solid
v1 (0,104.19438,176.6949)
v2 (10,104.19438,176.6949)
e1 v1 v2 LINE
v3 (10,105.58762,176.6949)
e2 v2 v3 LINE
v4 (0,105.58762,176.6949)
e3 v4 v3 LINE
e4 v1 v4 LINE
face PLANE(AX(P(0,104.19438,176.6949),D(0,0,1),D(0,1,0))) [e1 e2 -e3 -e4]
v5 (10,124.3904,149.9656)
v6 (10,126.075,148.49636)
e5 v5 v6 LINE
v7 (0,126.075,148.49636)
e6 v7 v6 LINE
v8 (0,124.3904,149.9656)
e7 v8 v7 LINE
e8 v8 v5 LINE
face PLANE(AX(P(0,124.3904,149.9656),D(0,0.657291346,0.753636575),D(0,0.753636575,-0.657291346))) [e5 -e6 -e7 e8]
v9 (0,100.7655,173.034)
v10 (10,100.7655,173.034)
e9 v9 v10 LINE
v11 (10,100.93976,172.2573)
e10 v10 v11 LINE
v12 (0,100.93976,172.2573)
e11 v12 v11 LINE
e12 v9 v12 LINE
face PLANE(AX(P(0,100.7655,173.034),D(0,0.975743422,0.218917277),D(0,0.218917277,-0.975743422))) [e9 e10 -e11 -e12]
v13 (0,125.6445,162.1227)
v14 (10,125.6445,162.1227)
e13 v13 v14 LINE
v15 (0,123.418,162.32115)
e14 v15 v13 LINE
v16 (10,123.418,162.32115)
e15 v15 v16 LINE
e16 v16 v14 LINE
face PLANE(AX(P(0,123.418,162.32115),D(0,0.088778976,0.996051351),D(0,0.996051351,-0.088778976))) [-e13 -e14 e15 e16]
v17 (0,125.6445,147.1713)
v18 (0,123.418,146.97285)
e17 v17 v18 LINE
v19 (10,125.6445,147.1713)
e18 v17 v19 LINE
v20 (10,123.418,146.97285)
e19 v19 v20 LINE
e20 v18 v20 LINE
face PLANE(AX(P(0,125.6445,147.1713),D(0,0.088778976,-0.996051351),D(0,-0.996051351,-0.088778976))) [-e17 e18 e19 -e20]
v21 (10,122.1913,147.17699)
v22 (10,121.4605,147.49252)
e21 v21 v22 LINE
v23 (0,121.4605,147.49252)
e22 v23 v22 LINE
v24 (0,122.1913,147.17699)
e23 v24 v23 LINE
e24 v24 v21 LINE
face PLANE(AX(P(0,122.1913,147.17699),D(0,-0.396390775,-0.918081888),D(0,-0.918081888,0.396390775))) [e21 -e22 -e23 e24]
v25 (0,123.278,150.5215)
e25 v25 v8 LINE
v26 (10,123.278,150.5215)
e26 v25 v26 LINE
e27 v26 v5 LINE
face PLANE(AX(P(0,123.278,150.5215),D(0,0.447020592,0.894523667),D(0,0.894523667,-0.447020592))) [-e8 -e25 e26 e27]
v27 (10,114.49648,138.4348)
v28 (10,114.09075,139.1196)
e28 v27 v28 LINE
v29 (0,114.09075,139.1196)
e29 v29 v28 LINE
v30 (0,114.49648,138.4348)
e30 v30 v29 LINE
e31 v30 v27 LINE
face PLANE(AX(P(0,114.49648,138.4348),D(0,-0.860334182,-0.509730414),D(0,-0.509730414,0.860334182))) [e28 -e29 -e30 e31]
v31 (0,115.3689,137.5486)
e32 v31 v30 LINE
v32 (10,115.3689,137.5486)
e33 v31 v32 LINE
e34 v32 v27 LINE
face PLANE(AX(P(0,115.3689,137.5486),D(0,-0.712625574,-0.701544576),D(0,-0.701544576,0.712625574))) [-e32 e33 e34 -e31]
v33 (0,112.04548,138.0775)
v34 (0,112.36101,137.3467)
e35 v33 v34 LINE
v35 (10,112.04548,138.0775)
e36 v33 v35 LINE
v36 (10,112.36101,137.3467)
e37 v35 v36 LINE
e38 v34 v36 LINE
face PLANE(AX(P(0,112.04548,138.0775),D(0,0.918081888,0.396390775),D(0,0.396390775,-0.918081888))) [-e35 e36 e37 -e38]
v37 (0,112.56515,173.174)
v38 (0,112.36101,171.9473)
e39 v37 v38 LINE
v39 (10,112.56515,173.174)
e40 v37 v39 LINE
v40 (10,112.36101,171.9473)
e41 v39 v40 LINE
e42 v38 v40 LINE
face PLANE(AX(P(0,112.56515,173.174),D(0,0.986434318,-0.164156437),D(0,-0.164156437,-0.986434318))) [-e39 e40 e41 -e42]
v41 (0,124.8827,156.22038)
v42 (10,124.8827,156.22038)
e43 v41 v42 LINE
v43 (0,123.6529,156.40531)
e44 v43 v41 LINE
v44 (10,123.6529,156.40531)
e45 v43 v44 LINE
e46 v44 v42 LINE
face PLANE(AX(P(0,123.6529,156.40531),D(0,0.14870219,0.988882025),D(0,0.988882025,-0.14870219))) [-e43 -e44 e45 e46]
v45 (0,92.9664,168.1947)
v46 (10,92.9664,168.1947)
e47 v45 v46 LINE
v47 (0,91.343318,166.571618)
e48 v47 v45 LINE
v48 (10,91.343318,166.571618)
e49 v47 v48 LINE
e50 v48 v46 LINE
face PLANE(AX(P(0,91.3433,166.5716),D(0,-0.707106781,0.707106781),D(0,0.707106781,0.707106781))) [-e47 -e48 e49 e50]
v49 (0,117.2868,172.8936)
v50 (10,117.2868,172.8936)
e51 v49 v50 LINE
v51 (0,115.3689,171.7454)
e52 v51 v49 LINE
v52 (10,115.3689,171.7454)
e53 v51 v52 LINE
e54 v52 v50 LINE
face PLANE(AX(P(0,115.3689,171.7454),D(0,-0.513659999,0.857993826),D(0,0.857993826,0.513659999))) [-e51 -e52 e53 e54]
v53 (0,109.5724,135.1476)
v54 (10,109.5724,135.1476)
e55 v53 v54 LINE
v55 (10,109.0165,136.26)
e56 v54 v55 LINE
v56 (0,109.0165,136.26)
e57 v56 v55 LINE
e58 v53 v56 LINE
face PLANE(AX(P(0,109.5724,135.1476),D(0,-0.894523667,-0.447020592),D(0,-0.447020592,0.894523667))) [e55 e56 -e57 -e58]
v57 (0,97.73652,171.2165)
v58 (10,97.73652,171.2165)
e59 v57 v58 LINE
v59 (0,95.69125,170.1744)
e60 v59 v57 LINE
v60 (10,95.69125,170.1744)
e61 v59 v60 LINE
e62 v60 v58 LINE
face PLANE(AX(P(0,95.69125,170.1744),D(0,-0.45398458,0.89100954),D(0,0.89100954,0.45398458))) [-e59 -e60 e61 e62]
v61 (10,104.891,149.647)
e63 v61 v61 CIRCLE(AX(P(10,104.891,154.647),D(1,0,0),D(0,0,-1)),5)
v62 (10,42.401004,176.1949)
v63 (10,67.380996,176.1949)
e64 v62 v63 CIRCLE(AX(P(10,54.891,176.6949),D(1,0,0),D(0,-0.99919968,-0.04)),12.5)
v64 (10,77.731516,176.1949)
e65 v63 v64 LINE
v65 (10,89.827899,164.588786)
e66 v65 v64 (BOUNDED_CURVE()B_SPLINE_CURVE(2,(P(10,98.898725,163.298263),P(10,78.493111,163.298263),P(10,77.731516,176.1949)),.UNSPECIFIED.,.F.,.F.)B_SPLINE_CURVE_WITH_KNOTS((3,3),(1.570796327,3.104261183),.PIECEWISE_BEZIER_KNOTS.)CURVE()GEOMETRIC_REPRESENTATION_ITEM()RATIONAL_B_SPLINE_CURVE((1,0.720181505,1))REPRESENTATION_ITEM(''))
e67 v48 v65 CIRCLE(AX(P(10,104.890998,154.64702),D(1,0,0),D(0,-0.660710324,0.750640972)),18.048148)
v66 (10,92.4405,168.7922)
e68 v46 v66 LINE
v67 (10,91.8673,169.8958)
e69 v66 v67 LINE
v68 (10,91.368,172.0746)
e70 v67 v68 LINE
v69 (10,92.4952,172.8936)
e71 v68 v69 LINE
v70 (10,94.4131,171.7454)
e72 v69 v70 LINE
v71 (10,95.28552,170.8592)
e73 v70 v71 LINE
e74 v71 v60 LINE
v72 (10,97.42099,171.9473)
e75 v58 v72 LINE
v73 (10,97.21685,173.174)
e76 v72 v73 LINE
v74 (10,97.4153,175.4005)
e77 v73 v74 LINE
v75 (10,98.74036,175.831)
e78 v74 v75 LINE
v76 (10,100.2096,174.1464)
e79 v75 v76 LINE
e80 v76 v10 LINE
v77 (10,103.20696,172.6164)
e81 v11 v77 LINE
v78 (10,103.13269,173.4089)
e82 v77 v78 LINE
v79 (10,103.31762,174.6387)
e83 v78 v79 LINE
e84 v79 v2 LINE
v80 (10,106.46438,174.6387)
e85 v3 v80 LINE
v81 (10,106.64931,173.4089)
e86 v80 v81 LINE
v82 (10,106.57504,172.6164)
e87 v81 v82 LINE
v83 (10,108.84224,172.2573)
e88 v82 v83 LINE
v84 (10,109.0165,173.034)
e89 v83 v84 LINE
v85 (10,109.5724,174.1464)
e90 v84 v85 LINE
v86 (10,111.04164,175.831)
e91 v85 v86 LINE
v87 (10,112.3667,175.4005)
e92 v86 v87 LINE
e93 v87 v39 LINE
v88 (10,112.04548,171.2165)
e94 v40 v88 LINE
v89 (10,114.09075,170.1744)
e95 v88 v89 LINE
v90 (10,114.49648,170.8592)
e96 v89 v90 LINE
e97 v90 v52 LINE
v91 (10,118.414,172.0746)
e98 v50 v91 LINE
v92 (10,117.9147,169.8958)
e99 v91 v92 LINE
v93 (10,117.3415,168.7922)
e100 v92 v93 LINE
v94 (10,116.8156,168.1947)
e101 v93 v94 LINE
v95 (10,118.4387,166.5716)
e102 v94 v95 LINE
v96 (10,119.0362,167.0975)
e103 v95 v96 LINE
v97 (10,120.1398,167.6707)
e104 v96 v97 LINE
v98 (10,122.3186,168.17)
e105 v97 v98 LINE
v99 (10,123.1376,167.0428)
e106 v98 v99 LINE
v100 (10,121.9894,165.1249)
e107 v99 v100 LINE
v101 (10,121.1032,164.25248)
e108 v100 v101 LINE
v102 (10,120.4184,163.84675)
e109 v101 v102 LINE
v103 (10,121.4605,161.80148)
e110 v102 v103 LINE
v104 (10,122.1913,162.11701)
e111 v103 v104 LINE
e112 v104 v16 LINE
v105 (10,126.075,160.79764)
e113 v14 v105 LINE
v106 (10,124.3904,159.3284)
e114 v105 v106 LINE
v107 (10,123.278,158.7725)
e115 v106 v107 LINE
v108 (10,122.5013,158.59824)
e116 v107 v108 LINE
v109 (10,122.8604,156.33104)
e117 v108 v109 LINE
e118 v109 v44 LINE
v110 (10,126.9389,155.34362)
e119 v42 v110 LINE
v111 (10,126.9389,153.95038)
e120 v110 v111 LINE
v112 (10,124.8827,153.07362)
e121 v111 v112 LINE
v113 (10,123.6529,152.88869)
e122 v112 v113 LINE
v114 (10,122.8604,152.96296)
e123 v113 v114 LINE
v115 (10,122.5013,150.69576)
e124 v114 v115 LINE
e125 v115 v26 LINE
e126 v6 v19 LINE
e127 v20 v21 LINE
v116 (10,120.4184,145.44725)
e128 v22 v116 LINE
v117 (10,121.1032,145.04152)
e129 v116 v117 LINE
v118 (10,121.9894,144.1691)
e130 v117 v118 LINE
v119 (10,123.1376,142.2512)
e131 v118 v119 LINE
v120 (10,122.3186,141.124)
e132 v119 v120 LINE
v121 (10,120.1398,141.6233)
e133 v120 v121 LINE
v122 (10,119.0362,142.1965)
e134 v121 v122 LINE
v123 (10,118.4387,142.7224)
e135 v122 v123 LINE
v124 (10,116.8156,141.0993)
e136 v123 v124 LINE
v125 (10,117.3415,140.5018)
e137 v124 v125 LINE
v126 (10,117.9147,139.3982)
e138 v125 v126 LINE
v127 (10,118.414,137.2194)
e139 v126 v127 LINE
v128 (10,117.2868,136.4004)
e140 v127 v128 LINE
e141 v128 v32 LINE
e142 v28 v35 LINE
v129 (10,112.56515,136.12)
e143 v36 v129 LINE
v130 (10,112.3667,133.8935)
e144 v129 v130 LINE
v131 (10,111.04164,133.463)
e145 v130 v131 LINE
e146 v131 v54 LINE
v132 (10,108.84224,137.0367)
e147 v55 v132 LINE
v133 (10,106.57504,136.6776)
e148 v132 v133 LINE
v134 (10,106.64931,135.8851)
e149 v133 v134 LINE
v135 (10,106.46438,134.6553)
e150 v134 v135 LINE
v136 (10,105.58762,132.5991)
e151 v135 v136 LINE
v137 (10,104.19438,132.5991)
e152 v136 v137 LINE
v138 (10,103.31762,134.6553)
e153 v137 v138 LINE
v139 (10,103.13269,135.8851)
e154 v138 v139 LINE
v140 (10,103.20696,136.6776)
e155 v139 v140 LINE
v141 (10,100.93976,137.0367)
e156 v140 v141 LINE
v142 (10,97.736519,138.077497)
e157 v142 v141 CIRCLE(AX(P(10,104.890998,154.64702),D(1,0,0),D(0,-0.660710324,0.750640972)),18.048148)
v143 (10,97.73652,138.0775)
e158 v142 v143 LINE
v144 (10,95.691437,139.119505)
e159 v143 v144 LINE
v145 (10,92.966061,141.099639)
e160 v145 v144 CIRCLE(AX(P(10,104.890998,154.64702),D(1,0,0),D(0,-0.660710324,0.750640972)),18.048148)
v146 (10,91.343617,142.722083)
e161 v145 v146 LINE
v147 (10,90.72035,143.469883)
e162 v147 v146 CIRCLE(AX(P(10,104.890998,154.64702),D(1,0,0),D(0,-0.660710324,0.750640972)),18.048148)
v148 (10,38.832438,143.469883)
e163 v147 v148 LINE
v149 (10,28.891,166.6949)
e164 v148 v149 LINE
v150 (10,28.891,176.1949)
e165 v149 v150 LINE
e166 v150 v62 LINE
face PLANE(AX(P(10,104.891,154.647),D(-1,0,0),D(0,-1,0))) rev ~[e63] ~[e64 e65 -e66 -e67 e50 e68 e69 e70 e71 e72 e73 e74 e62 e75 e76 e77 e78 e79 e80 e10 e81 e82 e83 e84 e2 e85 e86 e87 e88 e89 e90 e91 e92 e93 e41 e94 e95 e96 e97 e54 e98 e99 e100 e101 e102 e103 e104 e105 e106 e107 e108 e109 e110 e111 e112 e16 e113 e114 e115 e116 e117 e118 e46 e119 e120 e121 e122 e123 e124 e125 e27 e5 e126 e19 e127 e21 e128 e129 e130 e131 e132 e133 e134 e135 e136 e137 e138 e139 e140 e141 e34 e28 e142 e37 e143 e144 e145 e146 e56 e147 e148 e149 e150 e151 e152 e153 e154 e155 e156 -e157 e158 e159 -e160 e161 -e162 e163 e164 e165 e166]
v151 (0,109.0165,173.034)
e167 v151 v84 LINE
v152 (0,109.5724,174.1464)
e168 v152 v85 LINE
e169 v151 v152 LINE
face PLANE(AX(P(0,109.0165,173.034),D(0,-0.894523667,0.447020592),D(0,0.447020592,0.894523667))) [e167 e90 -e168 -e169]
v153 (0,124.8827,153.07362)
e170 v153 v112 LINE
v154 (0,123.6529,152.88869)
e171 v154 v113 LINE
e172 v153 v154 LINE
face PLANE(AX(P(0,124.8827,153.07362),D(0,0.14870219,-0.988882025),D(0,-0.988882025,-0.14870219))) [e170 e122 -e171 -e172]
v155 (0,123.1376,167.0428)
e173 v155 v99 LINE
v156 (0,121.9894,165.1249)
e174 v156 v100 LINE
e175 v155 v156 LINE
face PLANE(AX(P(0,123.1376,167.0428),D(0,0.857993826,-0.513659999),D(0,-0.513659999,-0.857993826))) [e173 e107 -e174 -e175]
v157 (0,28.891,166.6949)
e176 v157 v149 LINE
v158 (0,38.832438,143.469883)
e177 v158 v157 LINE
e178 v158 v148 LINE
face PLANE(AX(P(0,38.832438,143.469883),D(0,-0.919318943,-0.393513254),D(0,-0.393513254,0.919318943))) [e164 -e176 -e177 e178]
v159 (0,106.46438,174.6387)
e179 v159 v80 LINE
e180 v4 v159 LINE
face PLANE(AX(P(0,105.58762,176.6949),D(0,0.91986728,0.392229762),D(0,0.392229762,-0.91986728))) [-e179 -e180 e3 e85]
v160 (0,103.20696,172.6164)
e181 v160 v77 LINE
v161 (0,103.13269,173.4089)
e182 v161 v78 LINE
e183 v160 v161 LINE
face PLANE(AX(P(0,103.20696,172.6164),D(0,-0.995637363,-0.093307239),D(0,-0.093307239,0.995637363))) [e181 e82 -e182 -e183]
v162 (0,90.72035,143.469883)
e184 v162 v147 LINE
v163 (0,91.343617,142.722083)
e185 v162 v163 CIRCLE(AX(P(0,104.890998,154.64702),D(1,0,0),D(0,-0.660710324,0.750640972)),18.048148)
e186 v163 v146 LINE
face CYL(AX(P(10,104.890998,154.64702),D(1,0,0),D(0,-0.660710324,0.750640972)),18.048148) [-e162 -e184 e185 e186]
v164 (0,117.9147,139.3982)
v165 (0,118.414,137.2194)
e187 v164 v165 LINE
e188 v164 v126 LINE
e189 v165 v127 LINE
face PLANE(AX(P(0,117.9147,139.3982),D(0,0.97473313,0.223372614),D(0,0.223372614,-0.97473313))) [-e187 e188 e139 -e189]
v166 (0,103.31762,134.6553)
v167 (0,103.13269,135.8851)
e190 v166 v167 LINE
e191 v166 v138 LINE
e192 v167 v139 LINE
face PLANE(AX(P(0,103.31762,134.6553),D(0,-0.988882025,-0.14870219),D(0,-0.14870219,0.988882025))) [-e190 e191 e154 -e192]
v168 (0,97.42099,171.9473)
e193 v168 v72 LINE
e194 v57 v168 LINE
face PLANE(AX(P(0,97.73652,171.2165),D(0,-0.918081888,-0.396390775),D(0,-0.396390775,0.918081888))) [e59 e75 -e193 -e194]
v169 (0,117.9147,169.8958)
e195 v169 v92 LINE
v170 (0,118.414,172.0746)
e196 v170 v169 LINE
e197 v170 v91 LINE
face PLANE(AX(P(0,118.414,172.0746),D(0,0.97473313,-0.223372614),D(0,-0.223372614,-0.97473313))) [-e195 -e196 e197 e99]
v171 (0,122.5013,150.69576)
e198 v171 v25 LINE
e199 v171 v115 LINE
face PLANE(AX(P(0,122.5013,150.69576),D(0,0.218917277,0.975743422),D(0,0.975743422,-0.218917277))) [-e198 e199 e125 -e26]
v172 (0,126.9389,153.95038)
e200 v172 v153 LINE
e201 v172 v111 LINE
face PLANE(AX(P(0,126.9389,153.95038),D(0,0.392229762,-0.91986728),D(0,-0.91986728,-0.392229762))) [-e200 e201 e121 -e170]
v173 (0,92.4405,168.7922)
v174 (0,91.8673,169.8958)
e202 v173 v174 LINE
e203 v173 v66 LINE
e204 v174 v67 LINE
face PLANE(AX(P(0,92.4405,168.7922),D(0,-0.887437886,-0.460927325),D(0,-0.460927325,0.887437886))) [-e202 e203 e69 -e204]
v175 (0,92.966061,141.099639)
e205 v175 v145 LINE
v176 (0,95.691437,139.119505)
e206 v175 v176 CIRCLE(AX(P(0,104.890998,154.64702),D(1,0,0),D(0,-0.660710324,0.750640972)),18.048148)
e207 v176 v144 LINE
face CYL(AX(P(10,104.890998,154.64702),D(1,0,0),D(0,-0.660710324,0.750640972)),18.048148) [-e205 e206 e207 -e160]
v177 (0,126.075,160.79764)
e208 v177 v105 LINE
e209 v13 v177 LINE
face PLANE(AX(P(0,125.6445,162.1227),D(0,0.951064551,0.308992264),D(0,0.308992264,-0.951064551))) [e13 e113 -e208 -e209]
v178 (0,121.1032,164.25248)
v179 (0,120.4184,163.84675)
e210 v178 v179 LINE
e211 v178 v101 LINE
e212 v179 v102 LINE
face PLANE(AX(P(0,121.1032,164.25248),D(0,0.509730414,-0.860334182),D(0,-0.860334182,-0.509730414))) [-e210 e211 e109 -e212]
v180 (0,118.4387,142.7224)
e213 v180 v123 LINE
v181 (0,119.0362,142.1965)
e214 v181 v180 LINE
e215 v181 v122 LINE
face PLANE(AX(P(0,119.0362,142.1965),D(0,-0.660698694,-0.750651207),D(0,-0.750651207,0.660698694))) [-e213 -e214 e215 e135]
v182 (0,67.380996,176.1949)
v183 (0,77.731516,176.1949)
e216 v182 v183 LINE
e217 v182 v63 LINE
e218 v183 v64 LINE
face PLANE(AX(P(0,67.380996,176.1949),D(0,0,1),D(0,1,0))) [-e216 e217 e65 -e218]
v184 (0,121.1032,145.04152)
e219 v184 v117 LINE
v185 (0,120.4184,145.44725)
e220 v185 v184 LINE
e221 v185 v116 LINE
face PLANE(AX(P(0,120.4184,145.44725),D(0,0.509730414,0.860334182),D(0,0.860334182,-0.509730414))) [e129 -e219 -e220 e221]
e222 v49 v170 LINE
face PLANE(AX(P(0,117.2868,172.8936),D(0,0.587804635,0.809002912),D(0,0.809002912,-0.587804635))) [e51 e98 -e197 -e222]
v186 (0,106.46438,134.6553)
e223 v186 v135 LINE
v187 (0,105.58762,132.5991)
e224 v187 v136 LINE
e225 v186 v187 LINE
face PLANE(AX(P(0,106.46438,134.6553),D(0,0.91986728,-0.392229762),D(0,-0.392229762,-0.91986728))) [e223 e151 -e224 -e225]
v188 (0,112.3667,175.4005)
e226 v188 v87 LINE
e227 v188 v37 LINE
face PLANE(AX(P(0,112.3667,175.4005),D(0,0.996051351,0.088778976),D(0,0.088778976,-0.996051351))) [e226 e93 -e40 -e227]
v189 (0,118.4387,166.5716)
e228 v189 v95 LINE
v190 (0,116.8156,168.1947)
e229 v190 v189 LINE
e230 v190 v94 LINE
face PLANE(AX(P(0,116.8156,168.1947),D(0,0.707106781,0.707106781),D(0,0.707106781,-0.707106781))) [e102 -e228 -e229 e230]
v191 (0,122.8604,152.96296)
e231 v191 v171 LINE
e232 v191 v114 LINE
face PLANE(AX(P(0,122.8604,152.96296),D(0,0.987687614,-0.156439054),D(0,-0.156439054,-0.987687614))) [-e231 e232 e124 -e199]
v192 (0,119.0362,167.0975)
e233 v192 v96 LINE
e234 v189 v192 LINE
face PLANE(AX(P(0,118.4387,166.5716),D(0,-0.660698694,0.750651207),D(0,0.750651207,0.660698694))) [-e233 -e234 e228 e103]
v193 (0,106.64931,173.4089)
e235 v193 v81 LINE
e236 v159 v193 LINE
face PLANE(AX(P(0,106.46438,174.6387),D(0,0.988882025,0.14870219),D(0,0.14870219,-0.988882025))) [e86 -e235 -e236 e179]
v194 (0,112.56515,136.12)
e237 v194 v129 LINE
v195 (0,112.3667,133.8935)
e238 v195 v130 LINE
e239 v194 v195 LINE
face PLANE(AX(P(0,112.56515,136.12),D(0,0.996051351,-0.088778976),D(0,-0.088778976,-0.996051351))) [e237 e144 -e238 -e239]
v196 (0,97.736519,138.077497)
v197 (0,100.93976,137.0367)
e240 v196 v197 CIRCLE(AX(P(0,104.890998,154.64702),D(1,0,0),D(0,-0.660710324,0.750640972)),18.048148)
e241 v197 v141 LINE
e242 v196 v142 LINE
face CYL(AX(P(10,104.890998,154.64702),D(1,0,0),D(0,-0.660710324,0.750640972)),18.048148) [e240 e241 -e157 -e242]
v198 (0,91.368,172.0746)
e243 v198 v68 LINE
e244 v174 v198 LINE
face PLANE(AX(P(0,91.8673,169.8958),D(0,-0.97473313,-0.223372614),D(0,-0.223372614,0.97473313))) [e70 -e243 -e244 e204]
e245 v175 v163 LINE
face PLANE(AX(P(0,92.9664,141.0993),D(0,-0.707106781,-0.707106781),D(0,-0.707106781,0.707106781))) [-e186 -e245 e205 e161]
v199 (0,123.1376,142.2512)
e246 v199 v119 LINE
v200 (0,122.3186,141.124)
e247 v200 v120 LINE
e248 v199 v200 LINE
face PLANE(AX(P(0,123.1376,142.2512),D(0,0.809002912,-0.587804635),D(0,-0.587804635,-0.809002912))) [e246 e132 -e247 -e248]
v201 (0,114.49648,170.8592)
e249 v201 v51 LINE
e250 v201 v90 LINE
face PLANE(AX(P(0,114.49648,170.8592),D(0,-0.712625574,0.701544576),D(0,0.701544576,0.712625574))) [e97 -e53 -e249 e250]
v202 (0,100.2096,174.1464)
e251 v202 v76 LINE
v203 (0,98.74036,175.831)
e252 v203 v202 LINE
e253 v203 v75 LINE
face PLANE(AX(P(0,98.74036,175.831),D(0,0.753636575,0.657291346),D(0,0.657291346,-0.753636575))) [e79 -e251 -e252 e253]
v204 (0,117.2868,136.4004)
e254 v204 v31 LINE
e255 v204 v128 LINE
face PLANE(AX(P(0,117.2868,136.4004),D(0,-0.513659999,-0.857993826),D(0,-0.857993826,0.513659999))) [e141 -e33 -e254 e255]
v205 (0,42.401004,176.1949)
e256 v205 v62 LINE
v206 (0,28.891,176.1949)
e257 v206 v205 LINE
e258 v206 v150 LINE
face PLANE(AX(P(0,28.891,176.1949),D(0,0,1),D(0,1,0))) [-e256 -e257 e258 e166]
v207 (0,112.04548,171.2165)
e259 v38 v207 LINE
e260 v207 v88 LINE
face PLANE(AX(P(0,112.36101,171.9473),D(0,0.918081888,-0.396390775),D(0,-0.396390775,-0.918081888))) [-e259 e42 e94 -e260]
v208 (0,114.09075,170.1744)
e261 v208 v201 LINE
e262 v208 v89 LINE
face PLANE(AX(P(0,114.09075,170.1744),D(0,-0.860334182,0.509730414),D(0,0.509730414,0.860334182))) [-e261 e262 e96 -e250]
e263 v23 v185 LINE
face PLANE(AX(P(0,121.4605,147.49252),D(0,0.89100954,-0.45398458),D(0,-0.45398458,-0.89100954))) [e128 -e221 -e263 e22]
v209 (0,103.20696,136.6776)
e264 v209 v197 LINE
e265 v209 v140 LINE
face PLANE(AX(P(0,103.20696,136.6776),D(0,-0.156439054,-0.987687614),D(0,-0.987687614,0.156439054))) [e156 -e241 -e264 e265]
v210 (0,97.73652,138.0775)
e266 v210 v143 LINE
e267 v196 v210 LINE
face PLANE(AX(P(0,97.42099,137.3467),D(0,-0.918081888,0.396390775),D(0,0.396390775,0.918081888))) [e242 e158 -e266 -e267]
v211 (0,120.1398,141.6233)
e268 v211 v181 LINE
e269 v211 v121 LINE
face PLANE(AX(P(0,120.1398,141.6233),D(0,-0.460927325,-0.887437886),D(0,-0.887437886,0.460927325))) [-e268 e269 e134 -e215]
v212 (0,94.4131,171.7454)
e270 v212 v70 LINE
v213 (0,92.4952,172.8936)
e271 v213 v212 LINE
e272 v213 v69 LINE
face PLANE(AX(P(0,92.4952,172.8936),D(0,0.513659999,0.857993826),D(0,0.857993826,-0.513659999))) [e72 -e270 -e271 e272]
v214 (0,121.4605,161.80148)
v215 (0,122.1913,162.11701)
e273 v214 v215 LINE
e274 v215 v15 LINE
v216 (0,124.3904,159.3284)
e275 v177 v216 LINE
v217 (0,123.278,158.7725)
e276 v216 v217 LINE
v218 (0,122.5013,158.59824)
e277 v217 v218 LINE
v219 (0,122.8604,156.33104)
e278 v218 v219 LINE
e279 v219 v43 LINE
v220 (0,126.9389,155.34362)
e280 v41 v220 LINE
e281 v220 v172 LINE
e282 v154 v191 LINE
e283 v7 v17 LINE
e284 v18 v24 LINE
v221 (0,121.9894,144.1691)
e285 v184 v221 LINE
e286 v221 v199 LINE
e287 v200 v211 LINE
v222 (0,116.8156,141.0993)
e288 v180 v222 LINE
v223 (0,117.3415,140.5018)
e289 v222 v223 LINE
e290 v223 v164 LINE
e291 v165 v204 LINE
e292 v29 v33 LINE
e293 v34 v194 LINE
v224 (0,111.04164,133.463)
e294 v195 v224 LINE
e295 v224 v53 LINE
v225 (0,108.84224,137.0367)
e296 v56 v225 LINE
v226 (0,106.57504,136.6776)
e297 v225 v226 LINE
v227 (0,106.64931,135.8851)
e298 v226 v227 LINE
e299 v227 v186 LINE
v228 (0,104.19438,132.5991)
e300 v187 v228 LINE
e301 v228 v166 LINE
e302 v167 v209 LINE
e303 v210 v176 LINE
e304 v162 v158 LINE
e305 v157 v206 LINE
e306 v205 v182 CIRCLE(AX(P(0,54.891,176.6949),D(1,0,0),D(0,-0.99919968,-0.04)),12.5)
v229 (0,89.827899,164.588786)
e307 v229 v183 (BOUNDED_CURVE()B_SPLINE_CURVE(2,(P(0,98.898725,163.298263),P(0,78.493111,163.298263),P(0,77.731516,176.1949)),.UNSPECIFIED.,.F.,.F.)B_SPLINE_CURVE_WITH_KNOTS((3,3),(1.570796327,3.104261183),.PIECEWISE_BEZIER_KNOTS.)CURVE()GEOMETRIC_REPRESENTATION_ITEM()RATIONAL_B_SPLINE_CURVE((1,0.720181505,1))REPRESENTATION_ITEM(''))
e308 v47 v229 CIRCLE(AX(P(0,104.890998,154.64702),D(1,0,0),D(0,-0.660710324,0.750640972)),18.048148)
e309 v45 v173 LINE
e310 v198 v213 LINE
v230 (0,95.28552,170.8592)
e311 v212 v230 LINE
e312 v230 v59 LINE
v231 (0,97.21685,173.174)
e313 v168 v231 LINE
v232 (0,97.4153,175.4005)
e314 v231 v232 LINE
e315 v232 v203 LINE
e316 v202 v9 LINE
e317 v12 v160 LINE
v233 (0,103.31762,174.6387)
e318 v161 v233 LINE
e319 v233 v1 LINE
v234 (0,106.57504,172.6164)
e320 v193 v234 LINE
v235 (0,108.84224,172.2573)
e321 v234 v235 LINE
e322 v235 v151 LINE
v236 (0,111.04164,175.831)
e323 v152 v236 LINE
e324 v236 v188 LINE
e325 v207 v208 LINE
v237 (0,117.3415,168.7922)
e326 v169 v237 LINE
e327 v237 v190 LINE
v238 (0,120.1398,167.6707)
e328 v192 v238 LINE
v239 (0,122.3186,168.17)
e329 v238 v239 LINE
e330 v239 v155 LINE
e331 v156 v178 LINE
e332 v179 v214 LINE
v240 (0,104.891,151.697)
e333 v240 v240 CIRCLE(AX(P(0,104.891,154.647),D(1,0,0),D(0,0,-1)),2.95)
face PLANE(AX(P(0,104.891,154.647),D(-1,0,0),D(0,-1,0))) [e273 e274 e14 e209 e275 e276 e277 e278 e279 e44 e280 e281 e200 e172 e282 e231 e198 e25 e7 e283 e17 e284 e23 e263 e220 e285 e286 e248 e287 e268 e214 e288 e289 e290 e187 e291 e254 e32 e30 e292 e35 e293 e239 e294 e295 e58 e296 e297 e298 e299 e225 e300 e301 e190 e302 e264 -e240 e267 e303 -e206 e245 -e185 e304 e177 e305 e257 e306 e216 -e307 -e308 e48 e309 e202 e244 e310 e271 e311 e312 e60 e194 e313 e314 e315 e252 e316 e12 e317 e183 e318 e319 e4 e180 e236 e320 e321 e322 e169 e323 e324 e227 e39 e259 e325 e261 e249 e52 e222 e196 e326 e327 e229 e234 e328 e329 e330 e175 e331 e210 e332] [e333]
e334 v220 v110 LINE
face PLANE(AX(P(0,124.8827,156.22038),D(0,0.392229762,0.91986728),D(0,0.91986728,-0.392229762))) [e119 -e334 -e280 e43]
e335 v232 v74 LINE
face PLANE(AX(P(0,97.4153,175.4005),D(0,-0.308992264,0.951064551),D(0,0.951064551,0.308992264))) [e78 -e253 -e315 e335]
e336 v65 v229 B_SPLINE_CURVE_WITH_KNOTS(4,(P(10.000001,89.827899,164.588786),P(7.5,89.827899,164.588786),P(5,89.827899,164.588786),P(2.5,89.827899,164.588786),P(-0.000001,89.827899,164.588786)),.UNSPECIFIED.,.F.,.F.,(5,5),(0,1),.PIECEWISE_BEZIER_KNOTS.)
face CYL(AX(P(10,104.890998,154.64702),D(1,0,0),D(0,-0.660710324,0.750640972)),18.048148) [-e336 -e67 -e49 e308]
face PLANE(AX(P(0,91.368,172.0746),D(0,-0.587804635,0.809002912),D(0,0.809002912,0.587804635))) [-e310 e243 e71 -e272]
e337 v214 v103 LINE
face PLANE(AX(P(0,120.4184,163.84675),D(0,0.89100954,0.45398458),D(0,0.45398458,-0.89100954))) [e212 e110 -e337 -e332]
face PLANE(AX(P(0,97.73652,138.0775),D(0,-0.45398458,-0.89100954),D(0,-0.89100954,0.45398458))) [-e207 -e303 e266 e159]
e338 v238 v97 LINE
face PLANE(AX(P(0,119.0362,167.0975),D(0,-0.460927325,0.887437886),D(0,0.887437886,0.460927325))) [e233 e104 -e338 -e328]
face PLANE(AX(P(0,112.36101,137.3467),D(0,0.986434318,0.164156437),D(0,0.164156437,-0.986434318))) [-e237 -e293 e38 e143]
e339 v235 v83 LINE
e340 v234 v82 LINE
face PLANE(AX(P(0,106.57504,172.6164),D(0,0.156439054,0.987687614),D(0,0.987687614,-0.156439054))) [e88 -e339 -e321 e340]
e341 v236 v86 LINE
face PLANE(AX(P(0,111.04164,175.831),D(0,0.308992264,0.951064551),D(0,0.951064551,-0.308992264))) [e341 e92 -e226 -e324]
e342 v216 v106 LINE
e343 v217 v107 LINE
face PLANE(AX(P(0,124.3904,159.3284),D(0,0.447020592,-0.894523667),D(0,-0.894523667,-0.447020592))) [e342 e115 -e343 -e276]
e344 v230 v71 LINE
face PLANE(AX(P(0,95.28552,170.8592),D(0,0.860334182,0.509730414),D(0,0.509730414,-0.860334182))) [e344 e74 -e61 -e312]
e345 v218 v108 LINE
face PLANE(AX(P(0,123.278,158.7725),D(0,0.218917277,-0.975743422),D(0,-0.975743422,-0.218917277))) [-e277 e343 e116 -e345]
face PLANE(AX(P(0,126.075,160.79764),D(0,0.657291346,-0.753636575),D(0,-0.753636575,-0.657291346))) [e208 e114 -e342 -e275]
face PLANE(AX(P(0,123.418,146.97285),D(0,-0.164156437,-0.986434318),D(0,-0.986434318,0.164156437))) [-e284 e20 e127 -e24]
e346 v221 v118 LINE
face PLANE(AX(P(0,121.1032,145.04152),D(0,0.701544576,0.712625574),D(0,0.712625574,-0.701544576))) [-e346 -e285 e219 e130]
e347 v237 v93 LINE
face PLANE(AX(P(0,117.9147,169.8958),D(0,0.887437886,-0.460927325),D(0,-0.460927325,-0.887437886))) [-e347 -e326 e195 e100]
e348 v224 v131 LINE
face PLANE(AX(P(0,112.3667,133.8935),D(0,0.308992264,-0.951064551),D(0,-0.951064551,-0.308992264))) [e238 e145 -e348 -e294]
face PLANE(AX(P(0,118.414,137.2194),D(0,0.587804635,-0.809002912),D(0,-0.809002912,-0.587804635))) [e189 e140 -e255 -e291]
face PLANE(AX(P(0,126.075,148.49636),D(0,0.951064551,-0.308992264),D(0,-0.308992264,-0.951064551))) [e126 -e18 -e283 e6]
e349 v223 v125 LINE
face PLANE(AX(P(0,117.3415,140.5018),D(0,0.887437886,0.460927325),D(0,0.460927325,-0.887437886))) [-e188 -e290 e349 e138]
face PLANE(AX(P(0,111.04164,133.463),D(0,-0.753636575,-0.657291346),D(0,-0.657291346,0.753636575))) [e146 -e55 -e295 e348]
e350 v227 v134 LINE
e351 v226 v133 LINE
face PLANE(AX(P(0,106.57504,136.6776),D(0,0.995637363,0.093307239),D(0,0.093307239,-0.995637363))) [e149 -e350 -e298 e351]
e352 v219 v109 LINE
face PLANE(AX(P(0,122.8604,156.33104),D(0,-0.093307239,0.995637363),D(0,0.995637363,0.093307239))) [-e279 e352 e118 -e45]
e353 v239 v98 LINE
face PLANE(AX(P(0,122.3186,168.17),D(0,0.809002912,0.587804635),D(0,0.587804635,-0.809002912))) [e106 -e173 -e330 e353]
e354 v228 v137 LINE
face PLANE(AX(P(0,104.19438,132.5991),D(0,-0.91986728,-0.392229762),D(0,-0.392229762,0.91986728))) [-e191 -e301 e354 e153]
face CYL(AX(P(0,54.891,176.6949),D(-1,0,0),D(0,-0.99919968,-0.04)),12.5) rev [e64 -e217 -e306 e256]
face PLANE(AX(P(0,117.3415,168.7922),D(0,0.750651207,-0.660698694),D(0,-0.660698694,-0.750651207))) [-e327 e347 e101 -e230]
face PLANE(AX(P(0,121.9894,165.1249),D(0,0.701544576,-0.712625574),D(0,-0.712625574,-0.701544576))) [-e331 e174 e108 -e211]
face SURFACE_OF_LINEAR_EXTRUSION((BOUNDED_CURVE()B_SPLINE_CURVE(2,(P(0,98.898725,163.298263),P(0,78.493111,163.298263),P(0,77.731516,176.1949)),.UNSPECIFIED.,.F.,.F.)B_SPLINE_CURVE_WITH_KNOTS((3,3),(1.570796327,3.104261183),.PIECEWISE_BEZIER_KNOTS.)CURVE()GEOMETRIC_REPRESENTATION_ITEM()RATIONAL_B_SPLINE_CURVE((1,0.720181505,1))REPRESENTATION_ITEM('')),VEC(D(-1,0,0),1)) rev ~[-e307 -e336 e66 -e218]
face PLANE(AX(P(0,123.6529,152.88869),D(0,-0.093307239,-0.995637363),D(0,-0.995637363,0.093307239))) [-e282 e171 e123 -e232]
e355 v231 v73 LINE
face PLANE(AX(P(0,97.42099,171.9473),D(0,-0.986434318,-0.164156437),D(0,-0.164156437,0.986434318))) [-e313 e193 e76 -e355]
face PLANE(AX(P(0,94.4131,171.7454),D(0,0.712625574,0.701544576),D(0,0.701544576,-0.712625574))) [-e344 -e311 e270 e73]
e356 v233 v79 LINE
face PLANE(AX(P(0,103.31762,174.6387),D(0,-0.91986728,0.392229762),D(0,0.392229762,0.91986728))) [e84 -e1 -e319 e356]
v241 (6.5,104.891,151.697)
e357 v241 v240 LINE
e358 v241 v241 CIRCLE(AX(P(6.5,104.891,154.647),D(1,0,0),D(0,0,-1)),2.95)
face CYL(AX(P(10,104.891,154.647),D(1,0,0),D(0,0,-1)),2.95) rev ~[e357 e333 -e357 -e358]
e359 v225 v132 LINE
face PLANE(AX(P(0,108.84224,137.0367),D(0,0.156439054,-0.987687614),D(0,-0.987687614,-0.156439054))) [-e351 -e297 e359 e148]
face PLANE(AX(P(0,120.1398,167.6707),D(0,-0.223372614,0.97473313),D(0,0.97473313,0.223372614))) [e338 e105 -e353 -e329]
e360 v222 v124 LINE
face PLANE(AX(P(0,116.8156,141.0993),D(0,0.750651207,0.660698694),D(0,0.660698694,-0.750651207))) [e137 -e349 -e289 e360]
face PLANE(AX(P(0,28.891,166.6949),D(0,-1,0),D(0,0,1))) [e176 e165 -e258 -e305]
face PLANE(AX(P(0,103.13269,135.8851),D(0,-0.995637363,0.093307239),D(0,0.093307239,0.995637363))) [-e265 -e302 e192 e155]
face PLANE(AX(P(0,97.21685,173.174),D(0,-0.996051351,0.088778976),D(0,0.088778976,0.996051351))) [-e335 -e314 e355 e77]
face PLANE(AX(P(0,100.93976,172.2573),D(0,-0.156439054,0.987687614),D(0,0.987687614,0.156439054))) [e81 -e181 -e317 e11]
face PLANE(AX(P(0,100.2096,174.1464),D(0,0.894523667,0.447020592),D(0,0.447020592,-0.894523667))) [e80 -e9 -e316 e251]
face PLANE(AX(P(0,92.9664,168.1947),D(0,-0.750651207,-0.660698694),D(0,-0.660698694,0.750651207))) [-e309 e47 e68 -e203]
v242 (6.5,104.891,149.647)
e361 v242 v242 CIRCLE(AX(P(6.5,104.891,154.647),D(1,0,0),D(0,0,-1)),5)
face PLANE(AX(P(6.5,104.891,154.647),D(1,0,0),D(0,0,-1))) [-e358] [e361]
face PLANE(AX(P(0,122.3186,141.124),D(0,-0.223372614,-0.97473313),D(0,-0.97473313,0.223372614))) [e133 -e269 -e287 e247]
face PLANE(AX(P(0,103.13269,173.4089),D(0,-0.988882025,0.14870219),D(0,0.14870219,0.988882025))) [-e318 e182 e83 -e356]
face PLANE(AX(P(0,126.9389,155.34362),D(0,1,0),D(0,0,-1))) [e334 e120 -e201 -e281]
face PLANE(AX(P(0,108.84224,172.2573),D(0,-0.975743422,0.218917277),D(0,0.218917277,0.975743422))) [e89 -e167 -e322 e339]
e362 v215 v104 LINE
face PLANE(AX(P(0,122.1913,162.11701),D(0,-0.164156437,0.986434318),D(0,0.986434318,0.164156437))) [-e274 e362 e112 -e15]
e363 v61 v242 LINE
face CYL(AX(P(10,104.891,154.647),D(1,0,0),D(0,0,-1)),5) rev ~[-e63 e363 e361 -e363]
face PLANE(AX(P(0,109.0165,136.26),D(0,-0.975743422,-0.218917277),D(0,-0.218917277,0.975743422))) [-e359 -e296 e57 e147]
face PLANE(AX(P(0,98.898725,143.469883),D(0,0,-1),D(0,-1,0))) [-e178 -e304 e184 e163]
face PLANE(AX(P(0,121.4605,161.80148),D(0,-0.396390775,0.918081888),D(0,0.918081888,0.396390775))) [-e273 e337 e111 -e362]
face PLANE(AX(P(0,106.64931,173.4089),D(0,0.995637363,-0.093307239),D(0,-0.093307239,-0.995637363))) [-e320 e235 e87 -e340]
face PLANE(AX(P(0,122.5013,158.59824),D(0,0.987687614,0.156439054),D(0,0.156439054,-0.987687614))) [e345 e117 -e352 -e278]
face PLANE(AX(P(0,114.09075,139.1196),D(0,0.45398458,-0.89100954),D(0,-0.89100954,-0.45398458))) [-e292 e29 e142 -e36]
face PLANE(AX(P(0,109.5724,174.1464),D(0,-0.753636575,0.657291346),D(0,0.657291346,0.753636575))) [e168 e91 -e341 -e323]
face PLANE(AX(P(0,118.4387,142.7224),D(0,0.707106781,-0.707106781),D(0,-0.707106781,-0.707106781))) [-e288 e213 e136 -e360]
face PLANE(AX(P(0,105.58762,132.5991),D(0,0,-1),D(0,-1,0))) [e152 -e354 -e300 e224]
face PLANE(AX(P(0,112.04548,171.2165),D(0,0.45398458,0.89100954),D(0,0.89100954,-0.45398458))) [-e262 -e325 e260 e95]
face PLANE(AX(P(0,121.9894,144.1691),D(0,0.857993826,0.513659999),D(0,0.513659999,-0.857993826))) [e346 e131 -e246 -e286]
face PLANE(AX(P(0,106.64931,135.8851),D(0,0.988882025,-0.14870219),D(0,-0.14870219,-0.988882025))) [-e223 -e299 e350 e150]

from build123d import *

# Parameters (mm, degrees)
BOSS_EXTRUDE1_DEPTH = 10
SKETCH3_R           = 2.95
CUT_EXTRUDE1_DEPTH  = 10
CUT_EXTRUDE4_DEPTH  = 10
BOSS_EXTRUDE2_DEPTH = 10
SKETCH9_R           = 5
CUT_EXTRUDE5_DEPTH  = 3.5


with BuildPart() as part:
    # Sketch1 → Boss-Extrude1 (new body)
    with BuildSketch(Plane.YZ):
        Polygon((122.8604, 156.33104), (123.6529, 156.40531), (124.8827, 156.22038), (126.9389, 155.34362), (126.9389, 153.95038), (124.8827, 153.07362), (123.6529, 152.88869), (122.8604, 152.96296), (122.5013, 150.69576), (123.278, 150.5215), (124.3904, 149.9656), (126.075, 148.49636), (125.6445, 147.1713), (123.418, 146.97285), (122.1913, 147.17699), (121.4605, 147.49252), (120.4184, 145.44725), (121.1032, 145.04152), (121.9894, 144.1691), (123.1376, 142.2512), (122.3186, 141.124), (120.1398, 141.6233), (119.0362, 142.1965), (118.4387, 142.7224), (116.8156, 141.0993), (117.3415, 140.5018), (117.9147, 139.3982), (118.414, 137.2194), (117.2868, 136.4004), (115.3689, 137.5486), (114.49648, 138.4348), (114.09075, 139.1196), (112.04548, 138.0775), (112.36101, 137.3467), (112.56515, 136.12), (112.3667, 133.8935), (111.04164, 133.463), (109.5724, 135.1476), (109.0165, 136.26), (108.84224, 137.0367), (106.57504, 136.6776), (106.64931, 135.8851), (106.46438, 134.6553), (105.58762, 132.5991), (104.19438, 132.5991), (103.31762, 134.6553), (103.13269, 135.8851), (103.20696, 136.6776), (100.93976, 137.0367), (100.7655, 136.26), (100.2096, 135.1476), (98.74036, 133.463), (97.4153, 133.8935), (97.21685, 136.12), (97.42099, 137.3467), (97.73652, 138.0775), (95.69125, 139.1196), (95.28552, 138.4348), (94.4131, 137.5486), (92.4952, 136.4004), (91.368, 137.2194), (91.8673, 139.3982), (92.4405, 140.5018), (92.9664, 141.0993), (91.3433, 142.7224), (90.7458, 142.1965), (89.6422, 141.6233), (87.4634, 141.124), (86.6444, 142.2512), (87.7926, 144.1691), (88.6788, 145.04152), (89.3636, 145.44725), (88.3215, 147.49252), (87.5907, 147.17699), (86.364, 146.97285), (84.1375, 147.1713), (83.707, 148.49636), (85.3916, 149.9656), (86.504, 150.5215), (87.2807, 150.69576), (86.9216, 152.96296), (86.1291, 152.88869), (84.8993, 153.07362), (82.8431, 153.95038), (82.8431, 155.34362), (84.8993, 156.22038), (86.1291, 156.40531), (86.9216, 156.33104), (87.2807, 158.59824), (86.504, 158.7725), (85.3916, 159.3284), (83.707, 160.79764), (84.1375, 162.1227), (86.364, 162.32115), (87.5907, 162.11701), (88.3215, 161.80148), (89.3636, 163.84675), (88.6788, 164.25248), (87.7926, 165.1249), (86.6444, 167.0428), (87.4634, 168.17), (89.6422, 167.6707), (90.7458, 167.0975), (91.3433, 166.5716), (92.9664, 168.1947), (92.4405, 168.7922), (91.8673, 169.8958), (91.368, 172.0746), (92.4952, 172.8936), (94.4131, 171.7454), (95.28552, 170.8592), (95.69125, 170.1744), (97.73652, 171.2165), (97.42099, 171.9473), (97.21685, 173.174), (97.4153, 175.4005), (98.74036, 175.831), (100.2096, 174.1464), (100.7655, 173.034), (100.93976, 172.2573), (103.20696, 172.6164), (103.13269, 173.4089), (103.31762, 174.6387), (104.19438, 176.6949), (105.58762, 176.6949), (106.46438, 174.6387), (106.64931, 173.4089), (106.57504, 172.6164), (108.84224, 172.2573), (109.0165, 173.034), (109.5724, 174.1464), (111.04164, 175.831), (112.3667, 175.4005), (112.56515, 173.174), (112.36101, 171.9473), (112.04548, 171.2165), (114.09075, 170.1744), (114.49648, 170.8592), (115.3689, 171.7454), (117.2868, 172.8936), (118.414, 172.0746), (117.9147, 169.8958), (117.3415, 168.7922), (116.8156, 168.1947), (118.4387, 166.5716), (119.0362, 167.0975), (120.1398, 167.6707), (122.3186, 168.17), (123.1376, 167.0428), (121.9894, 165.1249), (121.1032, 164.25248), (120.4184, 163.84675), (121.4605, 161.80148), (122.1913, 162.11701), (123.418, 162.32115), (125.6445, 162.1227), (126.075, 160.79764), (124.3904, 159.3284), (123.278, 158.7725), (122.5013, 158.59824), align=None)
    extrude(amount=BOSS_EXTRUDE1_DEPTH)

    # Sketch3 → Cut-Extrude1 (cut)
    with BuildSketch(Plane.YZ.offset(10)):
        with Locations(Location((104.891, 154.647, 0), (0, 0, 270))):
            Circle(SKETCH3_R)
    extrude(amount=-CUT_EXTRUDE1_DEPTH, mode=Mode.SUBTRACT)

    # Sketch5 → Cut-Extrude4 (cut)
    with BuildSketch(Plane.YZ.offset(10)):
        with BuildLine():
            Line((100.93976, 137.0367), (100.054261516, 133.090117674))
            ThreePointArc((100.054261516, 133.090117674), (83.487848916, 149.169926106), (90.294048938, 171.230794333))
            Line((90.294048938, 171.230794333), (92.9664, 168.1947))
            ThreePointArc((92.9664, 168.1947), (87.406270735, 150.172651628), (100.93976, 137.0367))
        make_face()
    extrude(amount=-CUT_EXTRUDE4_DEPTH, mode=Mode.SUBTRACT)


with BuildPart() as cut_extrude4_kept_piece:
    # of the separate pieces the step leaves, the one the design keeps (cut_extrude4_pieces_kept)
    add(part.part.solids().sort_by_distance((0, 122.8604, 156.33104))[0])

    # Sketch8 → Boss-Extrude2 (add)
    with BuildSketch(Plane(origin=(0, 0, 0), x_dir=(0, -1, 0), z_dir=(-1, 0, 0))):
        with BuildLine():
            Line((-98.898724503, 146.469883253), (-98.898724503, 143.469883253))
            Line((-98.898724503, 143.469883253), (-38.832437603, 143.469883253))
            Line((-38.832437603, 143.469883253), (-28.891, 166.6949))
            Line((-28.891, 166.6949), (-28.891, 176.1949))
            Line((-28.891, 176.1949), (-42.401004003, 176.1949))
            ThreePointArc((-42.401004003, 176.1949), (-54.891, 164.1949), (-67.380995997, 176.1949))
            Line((-67.380995997, 176.1949), (-77.731516388, 176.1949))
            add(Edge.make_bspline(
                [(-98.898724503, 163.298263053), (-78.493111017, 163.298263053), (-77.731516388, 176.1949)],
                knots=[1.570796327, 1.570796327, 1.570796327, 3.104261183, 3.104261183, 3.104261183], degree=2, weights=[1, 0.720181505, 1]))
            Line((-98.898724503, 163.298263053), (-98.898724503, 146.469883253))
        make_face()
    extrude(amount=-BOSS_EXTRUDE2_DEPTH)

    # Sketch9 → Cut-Extrude5 (cut)
    with BuildSketch(Plane.YZ.offset(10)):
        with Locations(Location((104.891, 154.647, 0), (0, 0, 270))):
            Circle(SKETCH9_R)
    extrude(amount=-CUT_EXTRUDE5_DEPTH, mode=Mode.SUBTRACT)


solid = cut_extrude4_kept_piece.part
